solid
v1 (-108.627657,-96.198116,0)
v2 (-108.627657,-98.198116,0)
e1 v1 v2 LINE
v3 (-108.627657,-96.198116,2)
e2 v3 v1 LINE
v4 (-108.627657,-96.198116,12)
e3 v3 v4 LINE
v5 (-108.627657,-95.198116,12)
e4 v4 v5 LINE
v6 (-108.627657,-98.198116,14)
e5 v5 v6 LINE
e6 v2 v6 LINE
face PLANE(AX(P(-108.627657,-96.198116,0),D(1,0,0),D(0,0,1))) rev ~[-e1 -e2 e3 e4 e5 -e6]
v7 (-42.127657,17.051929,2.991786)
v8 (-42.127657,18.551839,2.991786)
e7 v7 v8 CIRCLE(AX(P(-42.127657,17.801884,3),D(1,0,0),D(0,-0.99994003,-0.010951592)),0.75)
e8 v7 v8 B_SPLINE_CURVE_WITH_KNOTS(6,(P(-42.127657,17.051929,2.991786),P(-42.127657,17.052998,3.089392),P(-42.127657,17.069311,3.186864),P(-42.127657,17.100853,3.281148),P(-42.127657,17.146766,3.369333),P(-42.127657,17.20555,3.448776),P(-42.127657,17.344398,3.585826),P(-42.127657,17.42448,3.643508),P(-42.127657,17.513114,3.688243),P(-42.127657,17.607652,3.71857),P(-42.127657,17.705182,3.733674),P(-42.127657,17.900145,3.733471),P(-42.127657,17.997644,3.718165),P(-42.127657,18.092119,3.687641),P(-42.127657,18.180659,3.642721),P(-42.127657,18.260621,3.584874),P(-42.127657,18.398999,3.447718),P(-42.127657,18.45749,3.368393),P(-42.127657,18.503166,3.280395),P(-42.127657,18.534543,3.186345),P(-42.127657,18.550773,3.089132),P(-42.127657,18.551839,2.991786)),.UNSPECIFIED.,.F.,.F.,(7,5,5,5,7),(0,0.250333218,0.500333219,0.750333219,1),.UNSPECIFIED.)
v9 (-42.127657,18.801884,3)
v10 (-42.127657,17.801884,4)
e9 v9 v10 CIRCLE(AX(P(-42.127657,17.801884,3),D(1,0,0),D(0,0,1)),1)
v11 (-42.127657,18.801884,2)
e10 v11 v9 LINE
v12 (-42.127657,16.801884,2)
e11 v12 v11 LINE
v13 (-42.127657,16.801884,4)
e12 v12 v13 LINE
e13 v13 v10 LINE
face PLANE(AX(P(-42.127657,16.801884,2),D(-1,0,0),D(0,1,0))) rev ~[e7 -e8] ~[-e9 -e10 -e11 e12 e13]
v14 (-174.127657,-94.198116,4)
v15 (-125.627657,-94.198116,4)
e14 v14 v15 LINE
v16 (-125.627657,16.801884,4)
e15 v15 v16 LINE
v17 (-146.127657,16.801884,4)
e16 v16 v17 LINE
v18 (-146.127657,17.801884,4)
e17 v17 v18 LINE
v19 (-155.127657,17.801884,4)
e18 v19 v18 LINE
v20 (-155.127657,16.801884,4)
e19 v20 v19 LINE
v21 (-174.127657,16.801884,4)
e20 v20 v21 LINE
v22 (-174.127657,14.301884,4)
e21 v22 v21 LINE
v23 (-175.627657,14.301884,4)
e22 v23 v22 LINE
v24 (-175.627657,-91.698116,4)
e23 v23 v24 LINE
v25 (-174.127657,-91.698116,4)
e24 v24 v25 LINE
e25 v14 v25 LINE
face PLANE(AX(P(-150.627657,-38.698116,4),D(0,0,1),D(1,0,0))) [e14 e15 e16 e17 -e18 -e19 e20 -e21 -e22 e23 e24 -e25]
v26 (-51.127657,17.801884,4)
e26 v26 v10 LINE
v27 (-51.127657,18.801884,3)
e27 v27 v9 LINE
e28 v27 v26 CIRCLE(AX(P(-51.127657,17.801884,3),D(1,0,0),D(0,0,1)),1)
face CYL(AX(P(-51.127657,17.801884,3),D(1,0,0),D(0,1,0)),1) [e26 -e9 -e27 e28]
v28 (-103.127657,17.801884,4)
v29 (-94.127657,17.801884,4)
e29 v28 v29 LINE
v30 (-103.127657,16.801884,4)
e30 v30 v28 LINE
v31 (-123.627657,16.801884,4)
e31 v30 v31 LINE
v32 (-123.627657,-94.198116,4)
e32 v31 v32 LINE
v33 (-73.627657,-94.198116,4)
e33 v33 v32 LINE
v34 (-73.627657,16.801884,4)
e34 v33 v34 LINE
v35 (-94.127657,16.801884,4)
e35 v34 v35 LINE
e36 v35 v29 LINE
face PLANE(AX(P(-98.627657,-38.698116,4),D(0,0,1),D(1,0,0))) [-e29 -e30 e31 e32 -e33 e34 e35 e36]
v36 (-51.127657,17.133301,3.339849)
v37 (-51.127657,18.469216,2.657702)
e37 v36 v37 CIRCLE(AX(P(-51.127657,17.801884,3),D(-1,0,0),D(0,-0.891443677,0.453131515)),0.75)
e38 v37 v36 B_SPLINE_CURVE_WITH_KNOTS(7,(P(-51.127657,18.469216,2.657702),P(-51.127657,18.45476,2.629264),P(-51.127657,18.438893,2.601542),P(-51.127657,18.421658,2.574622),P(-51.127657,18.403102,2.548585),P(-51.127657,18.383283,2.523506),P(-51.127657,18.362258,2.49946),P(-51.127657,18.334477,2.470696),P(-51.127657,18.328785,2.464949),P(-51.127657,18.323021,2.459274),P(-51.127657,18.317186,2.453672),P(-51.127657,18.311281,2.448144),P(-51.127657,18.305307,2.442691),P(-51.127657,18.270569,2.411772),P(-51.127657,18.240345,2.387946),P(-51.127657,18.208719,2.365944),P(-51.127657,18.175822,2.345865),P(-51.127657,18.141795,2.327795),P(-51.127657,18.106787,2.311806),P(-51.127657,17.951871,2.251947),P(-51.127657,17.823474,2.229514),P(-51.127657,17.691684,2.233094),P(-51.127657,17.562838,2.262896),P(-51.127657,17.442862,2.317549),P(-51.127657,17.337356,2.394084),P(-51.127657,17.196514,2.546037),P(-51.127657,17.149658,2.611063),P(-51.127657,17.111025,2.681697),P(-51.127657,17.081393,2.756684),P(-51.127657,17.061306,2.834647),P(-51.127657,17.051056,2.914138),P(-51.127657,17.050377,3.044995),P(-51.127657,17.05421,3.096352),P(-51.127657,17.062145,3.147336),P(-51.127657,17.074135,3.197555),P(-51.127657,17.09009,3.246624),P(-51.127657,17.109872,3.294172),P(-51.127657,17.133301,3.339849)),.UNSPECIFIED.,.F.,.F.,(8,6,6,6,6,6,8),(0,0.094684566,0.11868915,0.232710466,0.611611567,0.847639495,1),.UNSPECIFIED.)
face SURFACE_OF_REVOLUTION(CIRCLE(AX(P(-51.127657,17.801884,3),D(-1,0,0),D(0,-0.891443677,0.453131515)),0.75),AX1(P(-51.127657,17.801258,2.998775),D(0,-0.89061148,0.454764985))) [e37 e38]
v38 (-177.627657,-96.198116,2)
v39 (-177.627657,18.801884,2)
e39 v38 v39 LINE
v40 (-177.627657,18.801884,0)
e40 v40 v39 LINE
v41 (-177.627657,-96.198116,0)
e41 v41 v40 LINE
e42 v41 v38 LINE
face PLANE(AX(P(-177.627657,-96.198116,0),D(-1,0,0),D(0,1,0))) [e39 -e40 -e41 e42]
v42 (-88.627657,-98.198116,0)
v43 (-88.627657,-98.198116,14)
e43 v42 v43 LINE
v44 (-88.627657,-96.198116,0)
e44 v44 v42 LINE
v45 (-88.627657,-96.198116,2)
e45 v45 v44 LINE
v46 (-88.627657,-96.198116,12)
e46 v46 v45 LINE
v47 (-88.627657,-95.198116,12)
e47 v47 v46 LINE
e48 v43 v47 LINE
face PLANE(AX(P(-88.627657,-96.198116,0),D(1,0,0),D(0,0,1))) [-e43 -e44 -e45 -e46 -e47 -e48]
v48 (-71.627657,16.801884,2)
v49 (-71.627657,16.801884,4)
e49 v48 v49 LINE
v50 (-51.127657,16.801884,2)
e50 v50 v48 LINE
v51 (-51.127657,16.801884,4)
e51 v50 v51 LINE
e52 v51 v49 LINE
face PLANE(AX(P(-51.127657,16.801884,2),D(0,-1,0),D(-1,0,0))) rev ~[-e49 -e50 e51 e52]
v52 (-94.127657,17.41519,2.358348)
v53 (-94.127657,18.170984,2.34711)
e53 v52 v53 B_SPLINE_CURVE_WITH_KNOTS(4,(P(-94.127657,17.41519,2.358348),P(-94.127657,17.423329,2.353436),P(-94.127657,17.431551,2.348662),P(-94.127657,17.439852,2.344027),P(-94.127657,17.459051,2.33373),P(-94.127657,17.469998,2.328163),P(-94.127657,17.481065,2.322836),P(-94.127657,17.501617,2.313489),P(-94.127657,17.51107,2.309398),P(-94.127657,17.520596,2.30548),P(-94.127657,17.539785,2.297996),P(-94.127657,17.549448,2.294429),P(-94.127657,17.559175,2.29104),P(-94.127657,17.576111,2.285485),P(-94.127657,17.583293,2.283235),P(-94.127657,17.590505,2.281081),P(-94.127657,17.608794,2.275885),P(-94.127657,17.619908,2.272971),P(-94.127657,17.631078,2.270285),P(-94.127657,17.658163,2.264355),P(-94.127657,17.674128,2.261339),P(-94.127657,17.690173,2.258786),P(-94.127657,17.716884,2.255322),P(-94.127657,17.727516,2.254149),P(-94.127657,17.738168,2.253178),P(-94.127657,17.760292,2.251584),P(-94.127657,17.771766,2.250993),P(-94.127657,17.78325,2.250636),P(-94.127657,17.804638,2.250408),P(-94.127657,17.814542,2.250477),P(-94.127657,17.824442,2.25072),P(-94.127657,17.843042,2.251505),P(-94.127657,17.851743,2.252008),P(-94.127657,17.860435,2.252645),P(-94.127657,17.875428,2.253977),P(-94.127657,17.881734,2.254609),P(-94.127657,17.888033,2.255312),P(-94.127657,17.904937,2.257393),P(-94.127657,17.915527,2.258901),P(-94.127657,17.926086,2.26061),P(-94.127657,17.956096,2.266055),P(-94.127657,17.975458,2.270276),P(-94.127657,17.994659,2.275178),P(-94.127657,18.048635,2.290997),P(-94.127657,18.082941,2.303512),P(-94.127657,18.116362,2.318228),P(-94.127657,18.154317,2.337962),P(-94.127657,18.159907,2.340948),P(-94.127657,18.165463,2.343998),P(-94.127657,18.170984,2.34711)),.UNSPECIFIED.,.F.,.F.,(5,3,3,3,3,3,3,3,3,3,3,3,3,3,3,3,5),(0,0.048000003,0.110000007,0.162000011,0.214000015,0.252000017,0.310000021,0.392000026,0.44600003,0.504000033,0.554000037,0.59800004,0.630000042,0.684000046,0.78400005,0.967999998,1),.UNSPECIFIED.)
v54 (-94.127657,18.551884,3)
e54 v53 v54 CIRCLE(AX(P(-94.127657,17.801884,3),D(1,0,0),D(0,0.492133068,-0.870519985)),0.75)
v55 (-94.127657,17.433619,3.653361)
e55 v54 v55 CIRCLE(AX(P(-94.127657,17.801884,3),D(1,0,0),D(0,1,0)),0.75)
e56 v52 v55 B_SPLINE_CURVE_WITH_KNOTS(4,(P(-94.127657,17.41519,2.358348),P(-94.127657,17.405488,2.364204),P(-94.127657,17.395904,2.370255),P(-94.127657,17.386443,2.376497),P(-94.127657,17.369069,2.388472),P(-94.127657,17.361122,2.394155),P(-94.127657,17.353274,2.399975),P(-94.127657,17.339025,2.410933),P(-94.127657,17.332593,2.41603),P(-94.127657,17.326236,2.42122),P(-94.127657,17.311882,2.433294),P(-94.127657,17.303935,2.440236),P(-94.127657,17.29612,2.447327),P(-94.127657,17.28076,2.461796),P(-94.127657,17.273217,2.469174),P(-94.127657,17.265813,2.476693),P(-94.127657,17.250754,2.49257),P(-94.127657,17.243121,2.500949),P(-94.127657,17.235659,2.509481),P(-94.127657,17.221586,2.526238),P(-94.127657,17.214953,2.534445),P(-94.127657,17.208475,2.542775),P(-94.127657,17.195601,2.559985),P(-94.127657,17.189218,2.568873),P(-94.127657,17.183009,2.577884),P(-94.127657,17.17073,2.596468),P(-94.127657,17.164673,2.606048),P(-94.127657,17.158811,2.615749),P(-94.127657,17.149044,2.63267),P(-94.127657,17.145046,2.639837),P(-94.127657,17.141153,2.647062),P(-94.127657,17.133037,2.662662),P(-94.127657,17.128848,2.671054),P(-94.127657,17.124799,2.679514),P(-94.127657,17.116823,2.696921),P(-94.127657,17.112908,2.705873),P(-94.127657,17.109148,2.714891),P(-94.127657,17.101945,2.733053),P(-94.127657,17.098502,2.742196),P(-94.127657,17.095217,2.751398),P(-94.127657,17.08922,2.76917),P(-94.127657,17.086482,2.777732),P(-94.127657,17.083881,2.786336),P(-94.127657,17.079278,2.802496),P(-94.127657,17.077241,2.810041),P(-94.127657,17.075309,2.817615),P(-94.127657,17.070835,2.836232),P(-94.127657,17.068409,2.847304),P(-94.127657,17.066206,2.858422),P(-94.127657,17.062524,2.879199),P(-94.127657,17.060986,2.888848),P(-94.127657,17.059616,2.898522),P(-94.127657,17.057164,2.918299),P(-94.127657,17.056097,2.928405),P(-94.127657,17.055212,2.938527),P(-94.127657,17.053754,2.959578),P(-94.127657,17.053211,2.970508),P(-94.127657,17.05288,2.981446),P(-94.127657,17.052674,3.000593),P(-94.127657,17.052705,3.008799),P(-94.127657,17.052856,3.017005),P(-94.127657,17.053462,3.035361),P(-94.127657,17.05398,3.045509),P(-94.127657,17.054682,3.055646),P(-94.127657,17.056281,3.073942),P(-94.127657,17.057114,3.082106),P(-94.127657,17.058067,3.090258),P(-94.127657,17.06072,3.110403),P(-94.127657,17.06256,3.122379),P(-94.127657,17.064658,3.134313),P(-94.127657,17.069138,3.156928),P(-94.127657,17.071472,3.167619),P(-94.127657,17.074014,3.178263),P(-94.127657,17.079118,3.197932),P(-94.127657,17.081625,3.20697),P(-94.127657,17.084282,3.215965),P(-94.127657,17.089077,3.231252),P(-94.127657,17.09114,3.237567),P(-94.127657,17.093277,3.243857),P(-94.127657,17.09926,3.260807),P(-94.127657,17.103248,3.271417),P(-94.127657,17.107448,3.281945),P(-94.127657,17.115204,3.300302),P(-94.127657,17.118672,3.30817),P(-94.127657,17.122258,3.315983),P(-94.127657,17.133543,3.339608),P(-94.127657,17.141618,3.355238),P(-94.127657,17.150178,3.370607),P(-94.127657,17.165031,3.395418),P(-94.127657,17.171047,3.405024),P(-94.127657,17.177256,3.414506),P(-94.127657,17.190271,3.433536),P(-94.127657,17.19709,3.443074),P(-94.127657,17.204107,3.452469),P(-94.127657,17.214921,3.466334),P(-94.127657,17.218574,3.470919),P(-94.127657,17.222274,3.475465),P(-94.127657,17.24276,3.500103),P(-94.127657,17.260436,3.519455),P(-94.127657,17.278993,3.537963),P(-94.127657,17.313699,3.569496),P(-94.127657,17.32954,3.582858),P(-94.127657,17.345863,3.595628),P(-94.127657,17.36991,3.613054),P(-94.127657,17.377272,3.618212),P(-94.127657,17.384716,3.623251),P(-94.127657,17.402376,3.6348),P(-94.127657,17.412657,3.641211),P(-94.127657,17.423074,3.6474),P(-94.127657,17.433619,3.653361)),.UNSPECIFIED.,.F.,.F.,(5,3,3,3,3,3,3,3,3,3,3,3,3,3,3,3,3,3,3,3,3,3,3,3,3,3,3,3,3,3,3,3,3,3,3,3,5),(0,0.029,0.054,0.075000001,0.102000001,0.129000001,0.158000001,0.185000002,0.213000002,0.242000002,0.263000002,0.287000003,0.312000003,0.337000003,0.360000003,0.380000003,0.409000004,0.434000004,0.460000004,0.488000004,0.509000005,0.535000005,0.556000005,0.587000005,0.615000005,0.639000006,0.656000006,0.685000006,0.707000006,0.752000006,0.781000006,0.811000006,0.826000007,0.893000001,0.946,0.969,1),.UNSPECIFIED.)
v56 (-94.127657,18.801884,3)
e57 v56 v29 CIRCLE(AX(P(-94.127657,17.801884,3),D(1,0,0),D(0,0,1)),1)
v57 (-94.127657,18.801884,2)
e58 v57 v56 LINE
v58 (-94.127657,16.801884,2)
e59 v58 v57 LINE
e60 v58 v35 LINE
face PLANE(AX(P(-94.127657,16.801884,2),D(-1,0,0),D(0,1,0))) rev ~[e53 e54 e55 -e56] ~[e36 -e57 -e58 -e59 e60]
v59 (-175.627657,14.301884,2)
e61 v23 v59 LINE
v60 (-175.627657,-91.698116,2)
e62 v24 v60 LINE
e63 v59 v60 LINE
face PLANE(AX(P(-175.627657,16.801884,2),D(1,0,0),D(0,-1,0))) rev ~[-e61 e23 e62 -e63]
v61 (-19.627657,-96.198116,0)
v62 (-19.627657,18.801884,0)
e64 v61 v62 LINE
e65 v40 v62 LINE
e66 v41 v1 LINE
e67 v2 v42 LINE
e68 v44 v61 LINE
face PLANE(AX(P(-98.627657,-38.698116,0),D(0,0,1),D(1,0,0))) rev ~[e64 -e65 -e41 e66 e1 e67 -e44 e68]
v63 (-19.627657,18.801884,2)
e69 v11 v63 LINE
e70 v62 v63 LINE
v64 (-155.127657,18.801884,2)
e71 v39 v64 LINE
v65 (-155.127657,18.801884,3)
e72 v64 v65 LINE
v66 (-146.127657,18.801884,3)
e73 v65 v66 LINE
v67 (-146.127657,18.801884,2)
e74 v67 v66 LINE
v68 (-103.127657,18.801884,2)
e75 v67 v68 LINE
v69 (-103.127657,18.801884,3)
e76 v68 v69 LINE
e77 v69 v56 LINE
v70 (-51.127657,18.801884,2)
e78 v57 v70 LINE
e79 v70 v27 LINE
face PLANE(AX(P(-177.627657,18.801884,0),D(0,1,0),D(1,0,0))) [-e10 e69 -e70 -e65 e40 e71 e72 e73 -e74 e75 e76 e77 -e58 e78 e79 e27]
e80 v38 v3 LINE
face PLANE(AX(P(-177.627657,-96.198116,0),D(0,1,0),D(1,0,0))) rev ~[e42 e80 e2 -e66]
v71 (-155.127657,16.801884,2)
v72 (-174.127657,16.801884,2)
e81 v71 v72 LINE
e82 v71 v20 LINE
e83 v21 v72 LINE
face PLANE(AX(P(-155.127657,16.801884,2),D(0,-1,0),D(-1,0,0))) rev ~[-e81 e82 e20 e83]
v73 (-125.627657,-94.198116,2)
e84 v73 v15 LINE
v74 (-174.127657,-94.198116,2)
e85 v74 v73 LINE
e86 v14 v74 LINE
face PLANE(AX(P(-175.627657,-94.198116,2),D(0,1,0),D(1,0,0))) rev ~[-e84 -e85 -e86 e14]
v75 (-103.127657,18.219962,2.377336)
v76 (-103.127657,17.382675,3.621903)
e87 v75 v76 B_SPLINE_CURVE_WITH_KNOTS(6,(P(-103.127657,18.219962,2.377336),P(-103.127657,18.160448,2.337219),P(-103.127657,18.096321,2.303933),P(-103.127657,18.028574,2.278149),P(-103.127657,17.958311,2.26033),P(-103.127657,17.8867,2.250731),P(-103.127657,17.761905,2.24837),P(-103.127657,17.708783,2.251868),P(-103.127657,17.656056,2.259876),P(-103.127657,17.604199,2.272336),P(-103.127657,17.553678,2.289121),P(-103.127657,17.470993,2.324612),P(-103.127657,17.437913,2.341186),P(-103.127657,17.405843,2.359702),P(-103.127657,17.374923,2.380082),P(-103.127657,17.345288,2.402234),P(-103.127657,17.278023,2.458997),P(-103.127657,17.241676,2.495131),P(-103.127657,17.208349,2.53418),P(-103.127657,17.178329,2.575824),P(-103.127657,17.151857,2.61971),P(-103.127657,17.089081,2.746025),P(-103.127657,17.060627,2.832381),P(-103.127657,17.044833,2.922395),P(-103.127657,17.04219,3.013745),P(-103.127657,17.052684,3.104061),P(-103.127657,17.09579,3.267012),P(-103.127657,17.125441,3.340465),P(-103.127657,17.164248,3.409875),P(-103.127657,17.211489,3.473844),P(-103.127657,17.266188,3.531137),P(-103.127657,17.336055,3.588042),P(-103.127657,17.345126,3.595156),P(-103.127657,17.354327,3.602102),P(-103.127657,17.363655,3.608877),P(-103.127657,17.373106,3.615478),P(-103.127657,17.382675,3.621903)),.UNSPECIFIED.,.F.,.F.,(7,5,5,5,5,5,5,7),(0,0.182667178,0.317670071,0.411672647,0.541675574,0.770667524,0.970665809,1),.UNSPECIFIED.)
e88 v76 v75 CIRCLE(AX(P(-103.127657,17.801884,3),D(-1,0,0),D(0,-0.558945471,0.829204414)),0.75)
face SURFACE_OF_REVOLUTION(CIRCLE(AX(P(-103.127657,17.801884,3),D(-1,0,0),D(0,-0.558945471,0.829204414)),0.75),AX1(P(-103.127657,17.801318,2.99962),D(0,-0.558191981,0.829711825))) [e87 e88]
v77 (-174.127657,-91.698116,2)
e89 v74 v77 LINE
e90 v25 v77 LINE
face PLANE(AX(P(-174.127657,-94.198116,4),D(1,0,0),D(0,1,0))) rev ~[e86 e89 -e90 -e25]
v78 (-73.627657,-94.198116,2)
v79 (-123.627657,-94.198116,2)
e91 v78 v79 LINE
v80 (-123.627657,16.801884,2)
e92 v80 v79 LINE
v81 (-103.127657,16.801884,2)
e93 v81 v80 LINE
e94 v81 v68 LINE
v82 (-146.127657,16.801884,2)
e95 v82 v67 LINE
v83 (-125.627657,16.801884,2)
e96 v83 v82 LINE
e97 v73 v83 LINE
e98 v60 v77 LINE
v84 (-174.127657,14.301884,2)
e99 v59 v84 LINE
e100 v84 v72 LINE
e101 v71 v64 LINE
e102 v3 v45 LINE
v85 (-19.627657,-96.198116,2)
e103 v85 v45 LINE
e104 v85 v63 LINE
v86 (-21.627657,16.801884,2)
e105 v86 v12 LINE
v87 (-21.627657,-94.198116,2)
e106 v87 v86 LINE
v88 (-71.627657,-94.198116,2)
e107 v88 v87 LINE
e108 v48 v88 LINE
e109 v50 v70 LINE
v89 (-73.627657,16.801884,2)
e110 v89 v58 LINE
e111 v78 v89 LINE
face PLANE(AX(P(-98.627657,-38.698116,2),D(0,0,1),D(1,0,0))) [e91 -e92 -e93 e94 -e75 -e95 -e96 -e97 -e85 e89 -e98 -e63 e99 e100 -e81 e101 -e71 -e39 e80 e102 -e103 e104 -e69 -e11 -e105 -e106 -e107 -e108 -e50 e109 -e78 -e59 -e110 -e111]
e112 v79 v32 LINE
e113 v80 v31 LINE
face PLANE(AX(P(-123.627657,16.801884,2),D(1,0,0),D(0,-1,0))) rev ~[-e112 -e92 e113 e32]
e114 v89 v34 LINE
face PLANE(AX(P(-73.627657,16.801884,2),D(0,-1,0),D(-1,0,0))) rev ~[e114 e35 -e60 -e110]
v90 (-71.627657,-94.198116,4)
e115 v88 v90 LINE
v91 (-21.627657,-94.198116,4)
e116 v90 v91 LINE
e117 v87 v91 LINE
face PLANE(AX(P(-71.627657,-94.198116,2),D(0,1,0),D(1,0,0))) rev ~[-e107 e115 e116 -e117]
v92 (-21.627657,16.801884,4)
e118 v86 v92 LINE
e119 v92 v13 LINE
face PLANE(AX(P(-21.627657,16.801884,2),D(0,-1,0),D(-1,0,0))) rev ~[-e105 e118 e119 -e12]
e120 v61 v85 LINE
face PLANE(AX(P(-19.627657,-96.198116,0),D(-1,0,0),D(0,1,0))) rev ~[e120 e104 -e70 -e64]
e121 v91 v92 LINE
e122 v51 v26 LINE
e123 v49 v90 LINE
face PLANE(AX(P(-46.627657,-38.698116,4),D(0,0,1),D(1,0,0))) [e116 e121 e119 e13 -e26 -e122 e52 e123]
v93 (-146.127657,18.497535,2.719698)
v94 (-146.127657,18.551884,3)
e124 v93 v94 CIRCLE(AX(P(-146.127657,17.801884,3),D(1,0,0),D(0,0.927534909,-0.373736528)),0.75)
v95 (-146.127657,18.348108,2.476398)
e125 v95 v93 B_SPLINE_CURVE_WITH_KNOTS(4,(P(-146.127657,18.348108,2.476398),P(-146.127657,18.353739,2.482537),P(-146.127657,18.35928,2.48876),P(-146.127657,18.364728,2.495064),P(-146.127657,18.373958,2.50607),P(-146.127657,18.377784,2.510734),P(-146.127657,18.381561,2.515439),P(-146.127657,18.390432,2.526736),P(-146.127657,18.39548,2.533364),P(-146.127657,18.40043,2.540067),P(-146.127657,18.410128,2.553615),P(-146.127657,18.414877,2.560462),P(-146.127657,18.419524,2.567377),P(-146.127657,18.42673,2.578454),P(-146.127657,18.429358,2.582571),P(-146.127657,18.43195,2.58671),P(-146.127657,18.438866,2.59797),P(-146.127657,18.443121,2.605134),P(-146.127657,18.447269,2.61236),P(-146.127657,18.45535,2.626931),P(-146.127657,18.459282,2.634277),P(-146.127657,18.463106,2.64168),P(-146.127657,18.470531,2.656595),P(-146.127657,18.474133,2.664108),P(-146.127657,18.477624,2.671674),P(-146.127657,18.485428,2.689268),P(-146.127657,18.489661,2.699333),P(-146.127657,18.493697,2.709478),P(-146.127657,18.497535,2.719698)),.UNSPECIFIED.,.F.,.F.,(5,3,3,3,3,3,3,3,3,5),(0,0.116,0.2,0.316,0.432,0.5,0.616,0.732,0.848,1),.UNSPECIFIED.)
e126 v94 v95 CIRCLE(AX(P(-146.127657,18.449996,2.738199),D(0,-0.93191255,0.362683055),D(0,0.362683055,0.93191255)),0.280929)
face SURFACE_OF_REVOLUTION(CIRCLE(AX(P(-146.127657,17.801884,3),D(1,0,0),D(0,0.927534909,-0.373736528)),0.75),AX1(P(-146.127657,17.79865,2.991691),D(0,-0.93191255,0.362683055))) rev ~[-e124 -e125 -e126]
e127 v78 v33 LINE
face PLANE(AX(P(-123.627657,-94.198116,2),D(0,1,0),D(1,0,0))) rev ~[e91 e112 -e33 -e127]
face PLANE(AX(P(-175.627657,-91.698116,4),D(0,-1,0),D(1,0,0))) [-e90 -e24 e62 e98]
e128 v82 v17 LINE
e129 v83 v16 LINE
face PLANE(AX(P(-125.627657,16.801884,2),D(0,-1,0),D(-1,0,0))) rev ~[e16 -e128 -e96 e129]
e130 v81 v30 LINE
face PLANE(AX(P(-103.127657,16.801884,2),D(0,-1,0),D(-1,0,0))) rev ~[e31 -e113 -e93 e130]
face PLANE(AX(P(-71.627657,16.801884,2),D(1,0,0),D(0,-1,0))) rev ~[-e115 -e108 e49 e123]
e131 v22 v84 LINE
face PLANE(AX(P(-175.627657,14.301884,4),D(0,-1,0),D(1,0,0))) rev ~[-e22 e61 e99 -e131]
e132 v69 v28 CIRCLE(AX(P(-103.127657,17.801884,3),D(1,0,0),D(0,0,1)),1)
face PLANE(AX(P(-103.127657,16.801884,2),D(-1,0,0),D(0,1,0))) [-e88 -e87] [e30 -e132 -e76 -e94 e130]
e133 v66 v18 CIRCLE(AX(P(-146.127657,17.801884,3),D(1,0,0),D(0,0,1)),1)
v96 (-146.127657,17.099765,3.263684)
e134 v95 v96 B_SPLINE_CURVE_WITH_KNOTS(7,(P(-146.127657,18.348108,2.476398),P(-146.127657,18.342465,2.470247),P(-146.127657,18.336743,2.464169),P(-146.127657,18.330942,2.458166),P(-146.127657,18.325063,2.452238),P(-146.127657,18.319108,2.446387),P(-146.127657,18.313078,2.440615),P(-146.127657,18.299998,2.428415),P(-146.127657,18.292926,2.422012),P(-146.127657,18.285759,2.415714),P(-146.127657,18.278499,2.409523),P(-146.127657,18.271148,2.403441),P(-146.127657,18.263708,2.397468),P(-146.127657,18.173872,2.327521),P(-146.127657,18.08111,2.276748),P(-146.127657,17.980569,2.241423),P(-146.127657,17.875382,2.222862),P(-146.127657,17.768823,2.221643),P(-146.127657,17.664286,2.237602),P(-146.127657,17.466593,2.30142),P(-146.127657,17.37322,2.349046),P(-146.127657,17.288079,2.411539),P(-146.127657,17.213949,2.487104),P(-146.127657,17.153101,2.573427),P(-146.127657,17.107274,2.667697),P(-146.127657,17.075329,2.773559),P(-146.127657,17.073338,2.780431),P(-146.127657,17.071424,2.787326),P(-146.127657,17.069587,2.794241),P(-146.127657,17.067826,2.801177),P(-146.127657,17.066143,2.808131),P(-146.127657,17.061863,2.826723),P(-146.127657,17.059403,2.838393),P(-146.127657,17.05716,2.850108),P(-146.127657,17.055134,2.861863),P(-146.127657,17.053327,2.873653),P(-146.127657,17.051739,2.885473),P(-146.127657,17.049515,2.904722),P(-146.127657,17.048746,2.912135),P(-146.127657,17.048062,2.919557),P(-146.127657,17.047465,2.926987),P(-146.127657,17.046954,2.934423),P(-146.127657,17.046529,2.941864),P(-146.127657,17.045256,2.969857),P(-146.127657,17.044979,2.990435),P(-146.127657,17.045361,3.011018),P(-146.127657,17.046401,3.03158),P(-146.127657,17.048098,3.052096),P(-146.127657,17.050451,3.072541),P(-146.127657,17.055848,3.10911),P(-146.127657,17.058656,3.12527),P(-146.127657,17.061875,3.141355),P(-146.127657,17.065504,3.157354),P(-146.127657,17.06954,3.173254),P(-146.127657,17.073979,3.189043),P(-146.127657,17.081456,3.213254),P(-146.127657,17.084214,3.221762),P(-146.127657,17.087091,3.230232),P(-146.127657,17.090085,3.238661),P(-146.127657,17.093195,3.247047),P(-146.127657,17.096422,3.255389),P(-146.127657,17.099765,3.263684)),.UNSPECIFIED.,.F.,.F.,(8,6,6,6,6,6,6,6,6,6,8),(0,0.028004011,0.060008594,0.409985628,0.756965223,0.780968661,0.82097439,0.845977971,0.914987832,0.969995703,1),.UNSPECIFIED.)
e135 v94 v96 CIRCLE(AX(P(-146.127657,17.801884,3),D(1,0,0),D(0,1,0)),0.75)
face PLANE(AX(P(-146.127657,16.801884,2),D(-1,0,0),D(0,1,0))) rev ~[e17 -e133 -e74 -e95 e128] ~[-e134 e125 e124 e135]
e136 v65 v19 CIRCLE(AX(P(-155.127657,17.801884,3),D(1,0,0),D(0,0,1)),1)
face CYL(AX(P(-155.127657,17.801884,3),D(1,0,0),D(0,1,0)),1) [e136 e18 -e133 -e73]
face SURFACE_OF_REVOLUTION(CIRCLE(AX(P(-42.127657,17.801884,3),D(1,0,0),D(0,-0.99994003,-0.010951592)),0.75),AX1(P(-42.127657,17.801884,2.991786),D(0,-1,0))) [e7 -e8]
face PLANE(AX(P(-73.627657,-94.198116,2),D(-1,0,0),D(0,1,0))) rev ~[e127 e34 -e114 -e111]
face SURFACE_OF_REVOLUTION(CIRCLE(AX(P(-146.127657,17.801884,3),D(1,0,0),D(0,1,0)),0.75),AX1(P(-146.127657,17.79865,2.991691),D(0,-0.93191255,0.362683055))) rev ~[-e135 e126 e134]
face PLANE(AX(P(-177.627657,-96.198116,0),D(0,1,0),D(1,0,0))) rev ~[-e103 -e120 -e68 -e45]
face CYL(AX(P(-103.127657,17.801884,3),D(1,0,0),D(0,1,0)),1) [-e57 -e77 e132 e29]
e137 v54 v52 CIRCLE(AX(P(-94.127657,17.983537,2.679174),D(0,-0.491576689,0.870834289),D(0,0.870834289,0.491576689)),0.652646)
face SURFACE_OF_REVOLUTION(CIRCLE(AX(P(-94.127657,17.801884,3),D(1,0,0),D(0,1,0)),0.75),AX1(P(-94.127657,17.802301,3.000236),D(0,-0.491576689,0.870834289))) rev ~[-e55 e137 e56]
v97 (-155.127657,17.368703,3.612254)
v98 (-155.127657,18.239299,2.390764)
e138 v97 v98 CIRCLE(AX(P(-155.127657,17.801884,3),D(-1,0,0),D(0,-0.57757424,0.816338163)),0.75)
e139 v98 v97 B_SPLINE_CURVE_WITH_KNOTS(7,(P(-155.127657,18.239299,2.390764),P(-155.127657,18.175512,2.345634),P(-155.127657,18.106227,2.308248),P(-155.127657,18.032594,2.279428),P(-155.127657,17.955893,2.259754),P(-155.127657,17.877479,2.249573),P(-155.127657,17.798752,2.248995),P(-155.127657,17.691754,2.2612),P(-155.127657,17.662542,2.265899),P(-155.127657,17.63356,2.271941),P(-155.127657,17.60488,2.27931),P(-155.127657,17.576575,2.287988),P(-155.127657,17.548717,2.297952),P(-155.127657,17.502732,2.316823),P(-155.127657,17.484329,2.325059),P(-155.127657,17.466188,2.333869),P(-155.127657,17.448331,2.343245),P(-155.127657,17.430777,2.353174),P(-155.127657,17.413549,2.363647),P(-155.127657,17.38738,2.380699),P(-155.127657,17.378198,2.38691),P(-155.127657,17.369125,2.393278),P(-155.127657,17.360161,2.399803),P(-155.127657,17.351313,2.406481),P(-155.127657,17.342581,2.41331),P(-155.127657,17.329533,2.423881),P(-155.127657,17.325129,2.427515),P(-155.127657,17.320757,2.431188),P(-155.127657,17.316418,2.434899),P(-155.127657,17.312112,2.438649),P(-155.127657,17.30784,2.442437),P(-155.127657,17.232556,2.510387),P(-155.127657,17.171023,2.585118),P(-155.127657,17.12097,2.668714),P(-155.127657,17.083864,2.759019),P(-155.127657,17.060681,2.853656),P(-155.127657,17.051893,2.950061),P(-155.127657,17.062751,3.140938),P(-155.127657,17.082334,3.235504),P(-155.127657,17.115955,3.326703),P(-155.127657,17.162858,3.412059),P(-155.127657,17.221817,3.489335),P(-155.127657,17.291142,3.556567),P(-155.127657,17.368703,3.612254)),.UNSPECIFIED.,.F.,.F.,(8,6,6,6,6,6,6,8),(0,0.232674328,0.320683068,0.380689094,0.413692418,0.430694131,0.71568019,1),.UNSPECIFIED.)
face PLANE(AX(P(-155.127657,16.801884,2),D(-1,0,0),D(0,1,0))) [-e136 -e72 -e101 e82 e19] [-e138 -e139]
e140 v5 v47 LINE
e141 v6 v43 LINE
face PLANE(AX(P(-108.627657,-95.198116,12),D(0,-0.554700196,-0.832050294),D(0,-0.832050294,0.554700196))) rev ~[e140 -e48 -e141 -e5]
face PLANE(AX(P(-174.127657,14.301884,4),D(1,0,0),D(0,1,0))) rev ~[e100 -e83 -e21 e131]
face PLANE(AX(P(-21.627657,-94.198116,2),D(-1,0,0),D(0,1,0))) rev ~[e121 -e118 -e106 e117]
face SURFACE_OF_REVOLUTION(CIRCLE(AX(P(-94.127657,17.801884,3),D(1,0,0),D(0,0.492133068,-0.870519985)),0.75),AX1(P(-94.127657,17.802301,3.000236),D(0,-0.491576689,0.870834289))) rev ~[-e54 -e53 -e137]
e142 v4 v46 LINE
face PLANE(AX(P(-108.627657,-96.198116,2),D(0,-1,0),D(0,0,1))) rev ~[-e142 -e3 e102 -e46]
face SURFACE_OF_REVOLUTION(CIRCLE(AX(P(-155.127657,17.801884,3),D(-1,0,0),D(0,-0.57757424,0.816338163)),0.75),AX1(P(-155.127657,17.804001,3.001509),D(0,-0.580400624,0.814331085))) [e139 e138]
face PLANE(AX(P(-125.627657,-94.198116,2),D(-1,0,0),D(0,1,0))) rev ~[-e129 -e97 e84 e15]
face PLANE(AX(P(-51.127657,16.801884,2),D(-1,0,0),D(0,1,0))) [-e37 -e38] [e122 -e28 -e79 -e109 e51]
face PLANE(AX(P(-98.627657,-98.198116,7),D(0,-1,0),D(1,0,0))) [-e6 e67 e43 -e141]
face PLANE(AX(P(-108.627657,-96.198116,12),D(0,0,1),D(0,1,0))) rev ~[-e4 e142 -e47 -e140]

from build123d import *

# Parameters (mm, degrees)
F0_W      = 158
F0_H      = 115
F1_DEPTH  = 2
F2_W      = 9
F2_H      = 2
F3_DEPTH  = 2
F4_R      = 1
F17_W     = 1.5
F17_H     = 2.5
F18_DEPTH = 2
F19_W     = 20
F19_H     = 14
F20_DEPTH = 2
F22_DEPTH = 25


with BuildPart() as f1:
    # F0 (on Top) → F1 (new body)
    with BuildSketch(Plane.XY):
        with Locations((-98.6276573709, -38.6981162429)):
            Rectangle(F0_W, F0_H)
    extrude(amount=F1_DEPTH)

    # F2 (on face) → F3 (join)
    with BuildSketch(Plane.XY.offset(2)):
        Polygon((-155.1276573709, 16.8018837571), (-175.6276573709, 16.8018837571), (-175.6276573709, -94.1981162429), (-125.6276573709, -94.1981162429), (-125.6276573709, 16.8018837571), (-146.1276573709, 16.8018837571), align=None)
        with Locations((-150.6276573709, 17.8018837571)):
            Rectangle(F2_W, F2_H)
        Polygon((-103.1276573709, 16.8018837571), (-123.6276573709, 16.8018837571), (-123.6276573709, -94.1981162429), (-73.6276573709, -94.1981162429), (-73.6276573709, 16.8018837571), (-94.1276573709, 16.8018837571), align=None)
        with Locations((-98.6276573709, 17.8018837571)):
            Rectangle(F2_W, F2_H)
        Polygon((-51.1276573709, 16.8018837571), (-71.6276573709, 16.8018837571), (-71.6276573709, -94.1981162429), (-21.6276573709, -94.1981162429), (-21.6276573709, 16.8018837571), (-42.1276573709, 16.8018837571), align=None)
        with Locations((-46.6276573709, 17.8018837571)):
            Rectangle(F2_W, F2_H)
    extrude(amount=F3_DEPTH)

    # F4
    f4_edges = [f1.edges().sort_by_distance(p)[0] for p in [
        (-150.627657, 18.801884, 4),
        (-98.627657, 18.801884, 4),
        (-46.627657, 18.801884, 4),
    ]]
    fillet(f4_edges, radius=F4_R)

    # F5 (on face) → F6 (revolve, cut)
    with BuildSketch(Plane(origin=(-155.1276573709, 0, 0), x_dir=(0, -1, 0), z_dir=(-1, 0, 0))):
        with BuildLine():
            Line((-18.2392987821, 2.3907643347), (-17.368703077, 3.6122536226))
            ThreePointArc((-17.368703077, 3.6122536226), (-18.4126320707, 3.435300468), (-18.2392987821, 2.3907643347))
        make_face()
    revolve(axis=Axis((-155.1276573709, 17.8040009295, 3.0015089786), (0, -0.580400624, 0.8143310848)), mode=Mode.SUBTRACT)

    # F7 (on face) → F8 (revolve, cut)
    with BuildSketch(Plane.YZ.offset(-146.1276573709)):
        with BuildLine():
            ThreePointArc((18.497534939, 2.719697604), (18.5381711964, 2.8572386368), (18.5518837571, 3))
            ThreePointArc((18.5518837571, 3), (17.9358816289, 3.7379326327), (17.0997649028, 3.2636837395))
            Line((17.0997649028, 3.2636837395), (18.497534939, 2.719697604))
        make_face()
    revolve(axis=Axis((-146.1276573709, 17.7986499209, 2.9916906717), (0, -0.9319125504, 0.362683055)), mode=Mode.SUBTRACT)

    # F9 (on face) → F10 (revolve, cut)
    with BuildSketch(Plane(origin=(-103.1276573709, 0, 0), x_dir=(0, -1, 0), z_dir=(-1, 0, 0))):
        with BuildLine():
            Line((-18.2199622799, 2.3773360868), (-17.3826746537, 3.6219033105))
            ThreePointArc((-17.3826746537, 3.6219033105), (-18.4241676257, 3.4186439858), (-18.2199622799, 2.3773360868))
        make_face()
    revolve(axis=Axis((-103.1276573709, 17.8013184668, 2.9996196986), (0, -0.5581919811, 0.8297118248)), mode=Mode.SUBTRACT)

    # F11 (on face) → F12 (revolve, cut)
    with BuildSketch(Plane.YZ.offset(-94.1276573709)):
        with BuildLine():
            ThreePointArc((18.1709835579, 2.3471100115), (18.4496973301, 2.6220614141), (18.5518837571, 3))
            ThreePointArc((18.5518837571, 3), (18.1802362306, 3.647571931), (17.4336186749, 3.6533611782))
            Line((17.4336186749, 3.6533611782), (18.1709835579, 2.3471100115))
        make_face()
    revolve(axis=Axis((-94.1276573709, 17.8023011164, 3.0002355949), (0, -0.4915766891, 0.8708342889)), mode=Mode.SUBTRACT)

    # F13 (on face) → F14 (revolve, cut)
    with BuildSketch(Plane(origin=(-51.1276573709, 0, 0), x_dir=(0, -1, 0), z_dir=(-1, 0, 0))):
        with BuildLine():
            Line((-18.4692159742, 2.6577023049), (-17.133300999, 3.3398486363))
            ThreePointArc((-17.133300999, 3.3398486363), (-18.1429574959, 3.66795861), (-18.4692159742, 2.6577023049))
        make_face()
    revolve(axis=Axis((-51.1276573709, 17.8012584866, 2.9987754706), (0, -0.89061148, 0.4547649851)), mode=Mode.SUBTRACT)

    # F15 (on face) → F16 (revolve, cut)
    with BuildSketch(Plane.YZ.offset(-42.1276573709)):
        with BuildLine():
            Line((18.5518387793, 2.9917863059), (17.051928735, 2.9917863059))
            ThreePointArc((17.051928735, 2.9917863059), (17.8018837571, 2.25), (18.5518387793, 2.9917863059))
        make_face()
    revolve(axis=Axis((-42.1276573709, 17.8018837571, 2.9917863059), (0, -1, 0)), mode=Mode.SUBTRACT)

    # F17 (on face) → F18 (cut)
    with BuildSketch(Plane.XY.offset(4)):
        with Locations((-174.8776573709, 15.5518837571)):
            Rectangle(F17_W, F17_H)
        with Locations((-174.8776573709, -92.9481162429)):
            Rectangle(F17_W, F17_H)
    extrude(amount=-F18_DEPTH, mode=Mode.SUBTRACT)

    # F19 (on face) → F20 (join, symmetric)
    with BuildSketch(Plane.XZ.offset(96.1981162429)):
        with Locations((-98.6276573709, 7)):
            Rectangle(F19_W, F19_H)
    extrude(amount=F20_DEPTH, both=True)

    # F21 (on face) → F22 (cut)
    with BuildSketch(Plane(origin=(-108.6276573709, 0, 0), x_dir=(0, -1, 0), z_dir=(-1, 0, 0))):
        Polygon((94.1981162429, 12), (94.1981162429, 2), (96.1981162429, 2), (96.1981162429, 12), (95.1981162429, 12), align=None)
        Polygon((94.1981162429, 14), (94.1981162429, 12), (95.1981162429, 12), (98.1981162429, 14), align=None)
    extrude(amount=-F22_DEPTH, mode=Mode.SUBTRACT)


solid = f1.part
